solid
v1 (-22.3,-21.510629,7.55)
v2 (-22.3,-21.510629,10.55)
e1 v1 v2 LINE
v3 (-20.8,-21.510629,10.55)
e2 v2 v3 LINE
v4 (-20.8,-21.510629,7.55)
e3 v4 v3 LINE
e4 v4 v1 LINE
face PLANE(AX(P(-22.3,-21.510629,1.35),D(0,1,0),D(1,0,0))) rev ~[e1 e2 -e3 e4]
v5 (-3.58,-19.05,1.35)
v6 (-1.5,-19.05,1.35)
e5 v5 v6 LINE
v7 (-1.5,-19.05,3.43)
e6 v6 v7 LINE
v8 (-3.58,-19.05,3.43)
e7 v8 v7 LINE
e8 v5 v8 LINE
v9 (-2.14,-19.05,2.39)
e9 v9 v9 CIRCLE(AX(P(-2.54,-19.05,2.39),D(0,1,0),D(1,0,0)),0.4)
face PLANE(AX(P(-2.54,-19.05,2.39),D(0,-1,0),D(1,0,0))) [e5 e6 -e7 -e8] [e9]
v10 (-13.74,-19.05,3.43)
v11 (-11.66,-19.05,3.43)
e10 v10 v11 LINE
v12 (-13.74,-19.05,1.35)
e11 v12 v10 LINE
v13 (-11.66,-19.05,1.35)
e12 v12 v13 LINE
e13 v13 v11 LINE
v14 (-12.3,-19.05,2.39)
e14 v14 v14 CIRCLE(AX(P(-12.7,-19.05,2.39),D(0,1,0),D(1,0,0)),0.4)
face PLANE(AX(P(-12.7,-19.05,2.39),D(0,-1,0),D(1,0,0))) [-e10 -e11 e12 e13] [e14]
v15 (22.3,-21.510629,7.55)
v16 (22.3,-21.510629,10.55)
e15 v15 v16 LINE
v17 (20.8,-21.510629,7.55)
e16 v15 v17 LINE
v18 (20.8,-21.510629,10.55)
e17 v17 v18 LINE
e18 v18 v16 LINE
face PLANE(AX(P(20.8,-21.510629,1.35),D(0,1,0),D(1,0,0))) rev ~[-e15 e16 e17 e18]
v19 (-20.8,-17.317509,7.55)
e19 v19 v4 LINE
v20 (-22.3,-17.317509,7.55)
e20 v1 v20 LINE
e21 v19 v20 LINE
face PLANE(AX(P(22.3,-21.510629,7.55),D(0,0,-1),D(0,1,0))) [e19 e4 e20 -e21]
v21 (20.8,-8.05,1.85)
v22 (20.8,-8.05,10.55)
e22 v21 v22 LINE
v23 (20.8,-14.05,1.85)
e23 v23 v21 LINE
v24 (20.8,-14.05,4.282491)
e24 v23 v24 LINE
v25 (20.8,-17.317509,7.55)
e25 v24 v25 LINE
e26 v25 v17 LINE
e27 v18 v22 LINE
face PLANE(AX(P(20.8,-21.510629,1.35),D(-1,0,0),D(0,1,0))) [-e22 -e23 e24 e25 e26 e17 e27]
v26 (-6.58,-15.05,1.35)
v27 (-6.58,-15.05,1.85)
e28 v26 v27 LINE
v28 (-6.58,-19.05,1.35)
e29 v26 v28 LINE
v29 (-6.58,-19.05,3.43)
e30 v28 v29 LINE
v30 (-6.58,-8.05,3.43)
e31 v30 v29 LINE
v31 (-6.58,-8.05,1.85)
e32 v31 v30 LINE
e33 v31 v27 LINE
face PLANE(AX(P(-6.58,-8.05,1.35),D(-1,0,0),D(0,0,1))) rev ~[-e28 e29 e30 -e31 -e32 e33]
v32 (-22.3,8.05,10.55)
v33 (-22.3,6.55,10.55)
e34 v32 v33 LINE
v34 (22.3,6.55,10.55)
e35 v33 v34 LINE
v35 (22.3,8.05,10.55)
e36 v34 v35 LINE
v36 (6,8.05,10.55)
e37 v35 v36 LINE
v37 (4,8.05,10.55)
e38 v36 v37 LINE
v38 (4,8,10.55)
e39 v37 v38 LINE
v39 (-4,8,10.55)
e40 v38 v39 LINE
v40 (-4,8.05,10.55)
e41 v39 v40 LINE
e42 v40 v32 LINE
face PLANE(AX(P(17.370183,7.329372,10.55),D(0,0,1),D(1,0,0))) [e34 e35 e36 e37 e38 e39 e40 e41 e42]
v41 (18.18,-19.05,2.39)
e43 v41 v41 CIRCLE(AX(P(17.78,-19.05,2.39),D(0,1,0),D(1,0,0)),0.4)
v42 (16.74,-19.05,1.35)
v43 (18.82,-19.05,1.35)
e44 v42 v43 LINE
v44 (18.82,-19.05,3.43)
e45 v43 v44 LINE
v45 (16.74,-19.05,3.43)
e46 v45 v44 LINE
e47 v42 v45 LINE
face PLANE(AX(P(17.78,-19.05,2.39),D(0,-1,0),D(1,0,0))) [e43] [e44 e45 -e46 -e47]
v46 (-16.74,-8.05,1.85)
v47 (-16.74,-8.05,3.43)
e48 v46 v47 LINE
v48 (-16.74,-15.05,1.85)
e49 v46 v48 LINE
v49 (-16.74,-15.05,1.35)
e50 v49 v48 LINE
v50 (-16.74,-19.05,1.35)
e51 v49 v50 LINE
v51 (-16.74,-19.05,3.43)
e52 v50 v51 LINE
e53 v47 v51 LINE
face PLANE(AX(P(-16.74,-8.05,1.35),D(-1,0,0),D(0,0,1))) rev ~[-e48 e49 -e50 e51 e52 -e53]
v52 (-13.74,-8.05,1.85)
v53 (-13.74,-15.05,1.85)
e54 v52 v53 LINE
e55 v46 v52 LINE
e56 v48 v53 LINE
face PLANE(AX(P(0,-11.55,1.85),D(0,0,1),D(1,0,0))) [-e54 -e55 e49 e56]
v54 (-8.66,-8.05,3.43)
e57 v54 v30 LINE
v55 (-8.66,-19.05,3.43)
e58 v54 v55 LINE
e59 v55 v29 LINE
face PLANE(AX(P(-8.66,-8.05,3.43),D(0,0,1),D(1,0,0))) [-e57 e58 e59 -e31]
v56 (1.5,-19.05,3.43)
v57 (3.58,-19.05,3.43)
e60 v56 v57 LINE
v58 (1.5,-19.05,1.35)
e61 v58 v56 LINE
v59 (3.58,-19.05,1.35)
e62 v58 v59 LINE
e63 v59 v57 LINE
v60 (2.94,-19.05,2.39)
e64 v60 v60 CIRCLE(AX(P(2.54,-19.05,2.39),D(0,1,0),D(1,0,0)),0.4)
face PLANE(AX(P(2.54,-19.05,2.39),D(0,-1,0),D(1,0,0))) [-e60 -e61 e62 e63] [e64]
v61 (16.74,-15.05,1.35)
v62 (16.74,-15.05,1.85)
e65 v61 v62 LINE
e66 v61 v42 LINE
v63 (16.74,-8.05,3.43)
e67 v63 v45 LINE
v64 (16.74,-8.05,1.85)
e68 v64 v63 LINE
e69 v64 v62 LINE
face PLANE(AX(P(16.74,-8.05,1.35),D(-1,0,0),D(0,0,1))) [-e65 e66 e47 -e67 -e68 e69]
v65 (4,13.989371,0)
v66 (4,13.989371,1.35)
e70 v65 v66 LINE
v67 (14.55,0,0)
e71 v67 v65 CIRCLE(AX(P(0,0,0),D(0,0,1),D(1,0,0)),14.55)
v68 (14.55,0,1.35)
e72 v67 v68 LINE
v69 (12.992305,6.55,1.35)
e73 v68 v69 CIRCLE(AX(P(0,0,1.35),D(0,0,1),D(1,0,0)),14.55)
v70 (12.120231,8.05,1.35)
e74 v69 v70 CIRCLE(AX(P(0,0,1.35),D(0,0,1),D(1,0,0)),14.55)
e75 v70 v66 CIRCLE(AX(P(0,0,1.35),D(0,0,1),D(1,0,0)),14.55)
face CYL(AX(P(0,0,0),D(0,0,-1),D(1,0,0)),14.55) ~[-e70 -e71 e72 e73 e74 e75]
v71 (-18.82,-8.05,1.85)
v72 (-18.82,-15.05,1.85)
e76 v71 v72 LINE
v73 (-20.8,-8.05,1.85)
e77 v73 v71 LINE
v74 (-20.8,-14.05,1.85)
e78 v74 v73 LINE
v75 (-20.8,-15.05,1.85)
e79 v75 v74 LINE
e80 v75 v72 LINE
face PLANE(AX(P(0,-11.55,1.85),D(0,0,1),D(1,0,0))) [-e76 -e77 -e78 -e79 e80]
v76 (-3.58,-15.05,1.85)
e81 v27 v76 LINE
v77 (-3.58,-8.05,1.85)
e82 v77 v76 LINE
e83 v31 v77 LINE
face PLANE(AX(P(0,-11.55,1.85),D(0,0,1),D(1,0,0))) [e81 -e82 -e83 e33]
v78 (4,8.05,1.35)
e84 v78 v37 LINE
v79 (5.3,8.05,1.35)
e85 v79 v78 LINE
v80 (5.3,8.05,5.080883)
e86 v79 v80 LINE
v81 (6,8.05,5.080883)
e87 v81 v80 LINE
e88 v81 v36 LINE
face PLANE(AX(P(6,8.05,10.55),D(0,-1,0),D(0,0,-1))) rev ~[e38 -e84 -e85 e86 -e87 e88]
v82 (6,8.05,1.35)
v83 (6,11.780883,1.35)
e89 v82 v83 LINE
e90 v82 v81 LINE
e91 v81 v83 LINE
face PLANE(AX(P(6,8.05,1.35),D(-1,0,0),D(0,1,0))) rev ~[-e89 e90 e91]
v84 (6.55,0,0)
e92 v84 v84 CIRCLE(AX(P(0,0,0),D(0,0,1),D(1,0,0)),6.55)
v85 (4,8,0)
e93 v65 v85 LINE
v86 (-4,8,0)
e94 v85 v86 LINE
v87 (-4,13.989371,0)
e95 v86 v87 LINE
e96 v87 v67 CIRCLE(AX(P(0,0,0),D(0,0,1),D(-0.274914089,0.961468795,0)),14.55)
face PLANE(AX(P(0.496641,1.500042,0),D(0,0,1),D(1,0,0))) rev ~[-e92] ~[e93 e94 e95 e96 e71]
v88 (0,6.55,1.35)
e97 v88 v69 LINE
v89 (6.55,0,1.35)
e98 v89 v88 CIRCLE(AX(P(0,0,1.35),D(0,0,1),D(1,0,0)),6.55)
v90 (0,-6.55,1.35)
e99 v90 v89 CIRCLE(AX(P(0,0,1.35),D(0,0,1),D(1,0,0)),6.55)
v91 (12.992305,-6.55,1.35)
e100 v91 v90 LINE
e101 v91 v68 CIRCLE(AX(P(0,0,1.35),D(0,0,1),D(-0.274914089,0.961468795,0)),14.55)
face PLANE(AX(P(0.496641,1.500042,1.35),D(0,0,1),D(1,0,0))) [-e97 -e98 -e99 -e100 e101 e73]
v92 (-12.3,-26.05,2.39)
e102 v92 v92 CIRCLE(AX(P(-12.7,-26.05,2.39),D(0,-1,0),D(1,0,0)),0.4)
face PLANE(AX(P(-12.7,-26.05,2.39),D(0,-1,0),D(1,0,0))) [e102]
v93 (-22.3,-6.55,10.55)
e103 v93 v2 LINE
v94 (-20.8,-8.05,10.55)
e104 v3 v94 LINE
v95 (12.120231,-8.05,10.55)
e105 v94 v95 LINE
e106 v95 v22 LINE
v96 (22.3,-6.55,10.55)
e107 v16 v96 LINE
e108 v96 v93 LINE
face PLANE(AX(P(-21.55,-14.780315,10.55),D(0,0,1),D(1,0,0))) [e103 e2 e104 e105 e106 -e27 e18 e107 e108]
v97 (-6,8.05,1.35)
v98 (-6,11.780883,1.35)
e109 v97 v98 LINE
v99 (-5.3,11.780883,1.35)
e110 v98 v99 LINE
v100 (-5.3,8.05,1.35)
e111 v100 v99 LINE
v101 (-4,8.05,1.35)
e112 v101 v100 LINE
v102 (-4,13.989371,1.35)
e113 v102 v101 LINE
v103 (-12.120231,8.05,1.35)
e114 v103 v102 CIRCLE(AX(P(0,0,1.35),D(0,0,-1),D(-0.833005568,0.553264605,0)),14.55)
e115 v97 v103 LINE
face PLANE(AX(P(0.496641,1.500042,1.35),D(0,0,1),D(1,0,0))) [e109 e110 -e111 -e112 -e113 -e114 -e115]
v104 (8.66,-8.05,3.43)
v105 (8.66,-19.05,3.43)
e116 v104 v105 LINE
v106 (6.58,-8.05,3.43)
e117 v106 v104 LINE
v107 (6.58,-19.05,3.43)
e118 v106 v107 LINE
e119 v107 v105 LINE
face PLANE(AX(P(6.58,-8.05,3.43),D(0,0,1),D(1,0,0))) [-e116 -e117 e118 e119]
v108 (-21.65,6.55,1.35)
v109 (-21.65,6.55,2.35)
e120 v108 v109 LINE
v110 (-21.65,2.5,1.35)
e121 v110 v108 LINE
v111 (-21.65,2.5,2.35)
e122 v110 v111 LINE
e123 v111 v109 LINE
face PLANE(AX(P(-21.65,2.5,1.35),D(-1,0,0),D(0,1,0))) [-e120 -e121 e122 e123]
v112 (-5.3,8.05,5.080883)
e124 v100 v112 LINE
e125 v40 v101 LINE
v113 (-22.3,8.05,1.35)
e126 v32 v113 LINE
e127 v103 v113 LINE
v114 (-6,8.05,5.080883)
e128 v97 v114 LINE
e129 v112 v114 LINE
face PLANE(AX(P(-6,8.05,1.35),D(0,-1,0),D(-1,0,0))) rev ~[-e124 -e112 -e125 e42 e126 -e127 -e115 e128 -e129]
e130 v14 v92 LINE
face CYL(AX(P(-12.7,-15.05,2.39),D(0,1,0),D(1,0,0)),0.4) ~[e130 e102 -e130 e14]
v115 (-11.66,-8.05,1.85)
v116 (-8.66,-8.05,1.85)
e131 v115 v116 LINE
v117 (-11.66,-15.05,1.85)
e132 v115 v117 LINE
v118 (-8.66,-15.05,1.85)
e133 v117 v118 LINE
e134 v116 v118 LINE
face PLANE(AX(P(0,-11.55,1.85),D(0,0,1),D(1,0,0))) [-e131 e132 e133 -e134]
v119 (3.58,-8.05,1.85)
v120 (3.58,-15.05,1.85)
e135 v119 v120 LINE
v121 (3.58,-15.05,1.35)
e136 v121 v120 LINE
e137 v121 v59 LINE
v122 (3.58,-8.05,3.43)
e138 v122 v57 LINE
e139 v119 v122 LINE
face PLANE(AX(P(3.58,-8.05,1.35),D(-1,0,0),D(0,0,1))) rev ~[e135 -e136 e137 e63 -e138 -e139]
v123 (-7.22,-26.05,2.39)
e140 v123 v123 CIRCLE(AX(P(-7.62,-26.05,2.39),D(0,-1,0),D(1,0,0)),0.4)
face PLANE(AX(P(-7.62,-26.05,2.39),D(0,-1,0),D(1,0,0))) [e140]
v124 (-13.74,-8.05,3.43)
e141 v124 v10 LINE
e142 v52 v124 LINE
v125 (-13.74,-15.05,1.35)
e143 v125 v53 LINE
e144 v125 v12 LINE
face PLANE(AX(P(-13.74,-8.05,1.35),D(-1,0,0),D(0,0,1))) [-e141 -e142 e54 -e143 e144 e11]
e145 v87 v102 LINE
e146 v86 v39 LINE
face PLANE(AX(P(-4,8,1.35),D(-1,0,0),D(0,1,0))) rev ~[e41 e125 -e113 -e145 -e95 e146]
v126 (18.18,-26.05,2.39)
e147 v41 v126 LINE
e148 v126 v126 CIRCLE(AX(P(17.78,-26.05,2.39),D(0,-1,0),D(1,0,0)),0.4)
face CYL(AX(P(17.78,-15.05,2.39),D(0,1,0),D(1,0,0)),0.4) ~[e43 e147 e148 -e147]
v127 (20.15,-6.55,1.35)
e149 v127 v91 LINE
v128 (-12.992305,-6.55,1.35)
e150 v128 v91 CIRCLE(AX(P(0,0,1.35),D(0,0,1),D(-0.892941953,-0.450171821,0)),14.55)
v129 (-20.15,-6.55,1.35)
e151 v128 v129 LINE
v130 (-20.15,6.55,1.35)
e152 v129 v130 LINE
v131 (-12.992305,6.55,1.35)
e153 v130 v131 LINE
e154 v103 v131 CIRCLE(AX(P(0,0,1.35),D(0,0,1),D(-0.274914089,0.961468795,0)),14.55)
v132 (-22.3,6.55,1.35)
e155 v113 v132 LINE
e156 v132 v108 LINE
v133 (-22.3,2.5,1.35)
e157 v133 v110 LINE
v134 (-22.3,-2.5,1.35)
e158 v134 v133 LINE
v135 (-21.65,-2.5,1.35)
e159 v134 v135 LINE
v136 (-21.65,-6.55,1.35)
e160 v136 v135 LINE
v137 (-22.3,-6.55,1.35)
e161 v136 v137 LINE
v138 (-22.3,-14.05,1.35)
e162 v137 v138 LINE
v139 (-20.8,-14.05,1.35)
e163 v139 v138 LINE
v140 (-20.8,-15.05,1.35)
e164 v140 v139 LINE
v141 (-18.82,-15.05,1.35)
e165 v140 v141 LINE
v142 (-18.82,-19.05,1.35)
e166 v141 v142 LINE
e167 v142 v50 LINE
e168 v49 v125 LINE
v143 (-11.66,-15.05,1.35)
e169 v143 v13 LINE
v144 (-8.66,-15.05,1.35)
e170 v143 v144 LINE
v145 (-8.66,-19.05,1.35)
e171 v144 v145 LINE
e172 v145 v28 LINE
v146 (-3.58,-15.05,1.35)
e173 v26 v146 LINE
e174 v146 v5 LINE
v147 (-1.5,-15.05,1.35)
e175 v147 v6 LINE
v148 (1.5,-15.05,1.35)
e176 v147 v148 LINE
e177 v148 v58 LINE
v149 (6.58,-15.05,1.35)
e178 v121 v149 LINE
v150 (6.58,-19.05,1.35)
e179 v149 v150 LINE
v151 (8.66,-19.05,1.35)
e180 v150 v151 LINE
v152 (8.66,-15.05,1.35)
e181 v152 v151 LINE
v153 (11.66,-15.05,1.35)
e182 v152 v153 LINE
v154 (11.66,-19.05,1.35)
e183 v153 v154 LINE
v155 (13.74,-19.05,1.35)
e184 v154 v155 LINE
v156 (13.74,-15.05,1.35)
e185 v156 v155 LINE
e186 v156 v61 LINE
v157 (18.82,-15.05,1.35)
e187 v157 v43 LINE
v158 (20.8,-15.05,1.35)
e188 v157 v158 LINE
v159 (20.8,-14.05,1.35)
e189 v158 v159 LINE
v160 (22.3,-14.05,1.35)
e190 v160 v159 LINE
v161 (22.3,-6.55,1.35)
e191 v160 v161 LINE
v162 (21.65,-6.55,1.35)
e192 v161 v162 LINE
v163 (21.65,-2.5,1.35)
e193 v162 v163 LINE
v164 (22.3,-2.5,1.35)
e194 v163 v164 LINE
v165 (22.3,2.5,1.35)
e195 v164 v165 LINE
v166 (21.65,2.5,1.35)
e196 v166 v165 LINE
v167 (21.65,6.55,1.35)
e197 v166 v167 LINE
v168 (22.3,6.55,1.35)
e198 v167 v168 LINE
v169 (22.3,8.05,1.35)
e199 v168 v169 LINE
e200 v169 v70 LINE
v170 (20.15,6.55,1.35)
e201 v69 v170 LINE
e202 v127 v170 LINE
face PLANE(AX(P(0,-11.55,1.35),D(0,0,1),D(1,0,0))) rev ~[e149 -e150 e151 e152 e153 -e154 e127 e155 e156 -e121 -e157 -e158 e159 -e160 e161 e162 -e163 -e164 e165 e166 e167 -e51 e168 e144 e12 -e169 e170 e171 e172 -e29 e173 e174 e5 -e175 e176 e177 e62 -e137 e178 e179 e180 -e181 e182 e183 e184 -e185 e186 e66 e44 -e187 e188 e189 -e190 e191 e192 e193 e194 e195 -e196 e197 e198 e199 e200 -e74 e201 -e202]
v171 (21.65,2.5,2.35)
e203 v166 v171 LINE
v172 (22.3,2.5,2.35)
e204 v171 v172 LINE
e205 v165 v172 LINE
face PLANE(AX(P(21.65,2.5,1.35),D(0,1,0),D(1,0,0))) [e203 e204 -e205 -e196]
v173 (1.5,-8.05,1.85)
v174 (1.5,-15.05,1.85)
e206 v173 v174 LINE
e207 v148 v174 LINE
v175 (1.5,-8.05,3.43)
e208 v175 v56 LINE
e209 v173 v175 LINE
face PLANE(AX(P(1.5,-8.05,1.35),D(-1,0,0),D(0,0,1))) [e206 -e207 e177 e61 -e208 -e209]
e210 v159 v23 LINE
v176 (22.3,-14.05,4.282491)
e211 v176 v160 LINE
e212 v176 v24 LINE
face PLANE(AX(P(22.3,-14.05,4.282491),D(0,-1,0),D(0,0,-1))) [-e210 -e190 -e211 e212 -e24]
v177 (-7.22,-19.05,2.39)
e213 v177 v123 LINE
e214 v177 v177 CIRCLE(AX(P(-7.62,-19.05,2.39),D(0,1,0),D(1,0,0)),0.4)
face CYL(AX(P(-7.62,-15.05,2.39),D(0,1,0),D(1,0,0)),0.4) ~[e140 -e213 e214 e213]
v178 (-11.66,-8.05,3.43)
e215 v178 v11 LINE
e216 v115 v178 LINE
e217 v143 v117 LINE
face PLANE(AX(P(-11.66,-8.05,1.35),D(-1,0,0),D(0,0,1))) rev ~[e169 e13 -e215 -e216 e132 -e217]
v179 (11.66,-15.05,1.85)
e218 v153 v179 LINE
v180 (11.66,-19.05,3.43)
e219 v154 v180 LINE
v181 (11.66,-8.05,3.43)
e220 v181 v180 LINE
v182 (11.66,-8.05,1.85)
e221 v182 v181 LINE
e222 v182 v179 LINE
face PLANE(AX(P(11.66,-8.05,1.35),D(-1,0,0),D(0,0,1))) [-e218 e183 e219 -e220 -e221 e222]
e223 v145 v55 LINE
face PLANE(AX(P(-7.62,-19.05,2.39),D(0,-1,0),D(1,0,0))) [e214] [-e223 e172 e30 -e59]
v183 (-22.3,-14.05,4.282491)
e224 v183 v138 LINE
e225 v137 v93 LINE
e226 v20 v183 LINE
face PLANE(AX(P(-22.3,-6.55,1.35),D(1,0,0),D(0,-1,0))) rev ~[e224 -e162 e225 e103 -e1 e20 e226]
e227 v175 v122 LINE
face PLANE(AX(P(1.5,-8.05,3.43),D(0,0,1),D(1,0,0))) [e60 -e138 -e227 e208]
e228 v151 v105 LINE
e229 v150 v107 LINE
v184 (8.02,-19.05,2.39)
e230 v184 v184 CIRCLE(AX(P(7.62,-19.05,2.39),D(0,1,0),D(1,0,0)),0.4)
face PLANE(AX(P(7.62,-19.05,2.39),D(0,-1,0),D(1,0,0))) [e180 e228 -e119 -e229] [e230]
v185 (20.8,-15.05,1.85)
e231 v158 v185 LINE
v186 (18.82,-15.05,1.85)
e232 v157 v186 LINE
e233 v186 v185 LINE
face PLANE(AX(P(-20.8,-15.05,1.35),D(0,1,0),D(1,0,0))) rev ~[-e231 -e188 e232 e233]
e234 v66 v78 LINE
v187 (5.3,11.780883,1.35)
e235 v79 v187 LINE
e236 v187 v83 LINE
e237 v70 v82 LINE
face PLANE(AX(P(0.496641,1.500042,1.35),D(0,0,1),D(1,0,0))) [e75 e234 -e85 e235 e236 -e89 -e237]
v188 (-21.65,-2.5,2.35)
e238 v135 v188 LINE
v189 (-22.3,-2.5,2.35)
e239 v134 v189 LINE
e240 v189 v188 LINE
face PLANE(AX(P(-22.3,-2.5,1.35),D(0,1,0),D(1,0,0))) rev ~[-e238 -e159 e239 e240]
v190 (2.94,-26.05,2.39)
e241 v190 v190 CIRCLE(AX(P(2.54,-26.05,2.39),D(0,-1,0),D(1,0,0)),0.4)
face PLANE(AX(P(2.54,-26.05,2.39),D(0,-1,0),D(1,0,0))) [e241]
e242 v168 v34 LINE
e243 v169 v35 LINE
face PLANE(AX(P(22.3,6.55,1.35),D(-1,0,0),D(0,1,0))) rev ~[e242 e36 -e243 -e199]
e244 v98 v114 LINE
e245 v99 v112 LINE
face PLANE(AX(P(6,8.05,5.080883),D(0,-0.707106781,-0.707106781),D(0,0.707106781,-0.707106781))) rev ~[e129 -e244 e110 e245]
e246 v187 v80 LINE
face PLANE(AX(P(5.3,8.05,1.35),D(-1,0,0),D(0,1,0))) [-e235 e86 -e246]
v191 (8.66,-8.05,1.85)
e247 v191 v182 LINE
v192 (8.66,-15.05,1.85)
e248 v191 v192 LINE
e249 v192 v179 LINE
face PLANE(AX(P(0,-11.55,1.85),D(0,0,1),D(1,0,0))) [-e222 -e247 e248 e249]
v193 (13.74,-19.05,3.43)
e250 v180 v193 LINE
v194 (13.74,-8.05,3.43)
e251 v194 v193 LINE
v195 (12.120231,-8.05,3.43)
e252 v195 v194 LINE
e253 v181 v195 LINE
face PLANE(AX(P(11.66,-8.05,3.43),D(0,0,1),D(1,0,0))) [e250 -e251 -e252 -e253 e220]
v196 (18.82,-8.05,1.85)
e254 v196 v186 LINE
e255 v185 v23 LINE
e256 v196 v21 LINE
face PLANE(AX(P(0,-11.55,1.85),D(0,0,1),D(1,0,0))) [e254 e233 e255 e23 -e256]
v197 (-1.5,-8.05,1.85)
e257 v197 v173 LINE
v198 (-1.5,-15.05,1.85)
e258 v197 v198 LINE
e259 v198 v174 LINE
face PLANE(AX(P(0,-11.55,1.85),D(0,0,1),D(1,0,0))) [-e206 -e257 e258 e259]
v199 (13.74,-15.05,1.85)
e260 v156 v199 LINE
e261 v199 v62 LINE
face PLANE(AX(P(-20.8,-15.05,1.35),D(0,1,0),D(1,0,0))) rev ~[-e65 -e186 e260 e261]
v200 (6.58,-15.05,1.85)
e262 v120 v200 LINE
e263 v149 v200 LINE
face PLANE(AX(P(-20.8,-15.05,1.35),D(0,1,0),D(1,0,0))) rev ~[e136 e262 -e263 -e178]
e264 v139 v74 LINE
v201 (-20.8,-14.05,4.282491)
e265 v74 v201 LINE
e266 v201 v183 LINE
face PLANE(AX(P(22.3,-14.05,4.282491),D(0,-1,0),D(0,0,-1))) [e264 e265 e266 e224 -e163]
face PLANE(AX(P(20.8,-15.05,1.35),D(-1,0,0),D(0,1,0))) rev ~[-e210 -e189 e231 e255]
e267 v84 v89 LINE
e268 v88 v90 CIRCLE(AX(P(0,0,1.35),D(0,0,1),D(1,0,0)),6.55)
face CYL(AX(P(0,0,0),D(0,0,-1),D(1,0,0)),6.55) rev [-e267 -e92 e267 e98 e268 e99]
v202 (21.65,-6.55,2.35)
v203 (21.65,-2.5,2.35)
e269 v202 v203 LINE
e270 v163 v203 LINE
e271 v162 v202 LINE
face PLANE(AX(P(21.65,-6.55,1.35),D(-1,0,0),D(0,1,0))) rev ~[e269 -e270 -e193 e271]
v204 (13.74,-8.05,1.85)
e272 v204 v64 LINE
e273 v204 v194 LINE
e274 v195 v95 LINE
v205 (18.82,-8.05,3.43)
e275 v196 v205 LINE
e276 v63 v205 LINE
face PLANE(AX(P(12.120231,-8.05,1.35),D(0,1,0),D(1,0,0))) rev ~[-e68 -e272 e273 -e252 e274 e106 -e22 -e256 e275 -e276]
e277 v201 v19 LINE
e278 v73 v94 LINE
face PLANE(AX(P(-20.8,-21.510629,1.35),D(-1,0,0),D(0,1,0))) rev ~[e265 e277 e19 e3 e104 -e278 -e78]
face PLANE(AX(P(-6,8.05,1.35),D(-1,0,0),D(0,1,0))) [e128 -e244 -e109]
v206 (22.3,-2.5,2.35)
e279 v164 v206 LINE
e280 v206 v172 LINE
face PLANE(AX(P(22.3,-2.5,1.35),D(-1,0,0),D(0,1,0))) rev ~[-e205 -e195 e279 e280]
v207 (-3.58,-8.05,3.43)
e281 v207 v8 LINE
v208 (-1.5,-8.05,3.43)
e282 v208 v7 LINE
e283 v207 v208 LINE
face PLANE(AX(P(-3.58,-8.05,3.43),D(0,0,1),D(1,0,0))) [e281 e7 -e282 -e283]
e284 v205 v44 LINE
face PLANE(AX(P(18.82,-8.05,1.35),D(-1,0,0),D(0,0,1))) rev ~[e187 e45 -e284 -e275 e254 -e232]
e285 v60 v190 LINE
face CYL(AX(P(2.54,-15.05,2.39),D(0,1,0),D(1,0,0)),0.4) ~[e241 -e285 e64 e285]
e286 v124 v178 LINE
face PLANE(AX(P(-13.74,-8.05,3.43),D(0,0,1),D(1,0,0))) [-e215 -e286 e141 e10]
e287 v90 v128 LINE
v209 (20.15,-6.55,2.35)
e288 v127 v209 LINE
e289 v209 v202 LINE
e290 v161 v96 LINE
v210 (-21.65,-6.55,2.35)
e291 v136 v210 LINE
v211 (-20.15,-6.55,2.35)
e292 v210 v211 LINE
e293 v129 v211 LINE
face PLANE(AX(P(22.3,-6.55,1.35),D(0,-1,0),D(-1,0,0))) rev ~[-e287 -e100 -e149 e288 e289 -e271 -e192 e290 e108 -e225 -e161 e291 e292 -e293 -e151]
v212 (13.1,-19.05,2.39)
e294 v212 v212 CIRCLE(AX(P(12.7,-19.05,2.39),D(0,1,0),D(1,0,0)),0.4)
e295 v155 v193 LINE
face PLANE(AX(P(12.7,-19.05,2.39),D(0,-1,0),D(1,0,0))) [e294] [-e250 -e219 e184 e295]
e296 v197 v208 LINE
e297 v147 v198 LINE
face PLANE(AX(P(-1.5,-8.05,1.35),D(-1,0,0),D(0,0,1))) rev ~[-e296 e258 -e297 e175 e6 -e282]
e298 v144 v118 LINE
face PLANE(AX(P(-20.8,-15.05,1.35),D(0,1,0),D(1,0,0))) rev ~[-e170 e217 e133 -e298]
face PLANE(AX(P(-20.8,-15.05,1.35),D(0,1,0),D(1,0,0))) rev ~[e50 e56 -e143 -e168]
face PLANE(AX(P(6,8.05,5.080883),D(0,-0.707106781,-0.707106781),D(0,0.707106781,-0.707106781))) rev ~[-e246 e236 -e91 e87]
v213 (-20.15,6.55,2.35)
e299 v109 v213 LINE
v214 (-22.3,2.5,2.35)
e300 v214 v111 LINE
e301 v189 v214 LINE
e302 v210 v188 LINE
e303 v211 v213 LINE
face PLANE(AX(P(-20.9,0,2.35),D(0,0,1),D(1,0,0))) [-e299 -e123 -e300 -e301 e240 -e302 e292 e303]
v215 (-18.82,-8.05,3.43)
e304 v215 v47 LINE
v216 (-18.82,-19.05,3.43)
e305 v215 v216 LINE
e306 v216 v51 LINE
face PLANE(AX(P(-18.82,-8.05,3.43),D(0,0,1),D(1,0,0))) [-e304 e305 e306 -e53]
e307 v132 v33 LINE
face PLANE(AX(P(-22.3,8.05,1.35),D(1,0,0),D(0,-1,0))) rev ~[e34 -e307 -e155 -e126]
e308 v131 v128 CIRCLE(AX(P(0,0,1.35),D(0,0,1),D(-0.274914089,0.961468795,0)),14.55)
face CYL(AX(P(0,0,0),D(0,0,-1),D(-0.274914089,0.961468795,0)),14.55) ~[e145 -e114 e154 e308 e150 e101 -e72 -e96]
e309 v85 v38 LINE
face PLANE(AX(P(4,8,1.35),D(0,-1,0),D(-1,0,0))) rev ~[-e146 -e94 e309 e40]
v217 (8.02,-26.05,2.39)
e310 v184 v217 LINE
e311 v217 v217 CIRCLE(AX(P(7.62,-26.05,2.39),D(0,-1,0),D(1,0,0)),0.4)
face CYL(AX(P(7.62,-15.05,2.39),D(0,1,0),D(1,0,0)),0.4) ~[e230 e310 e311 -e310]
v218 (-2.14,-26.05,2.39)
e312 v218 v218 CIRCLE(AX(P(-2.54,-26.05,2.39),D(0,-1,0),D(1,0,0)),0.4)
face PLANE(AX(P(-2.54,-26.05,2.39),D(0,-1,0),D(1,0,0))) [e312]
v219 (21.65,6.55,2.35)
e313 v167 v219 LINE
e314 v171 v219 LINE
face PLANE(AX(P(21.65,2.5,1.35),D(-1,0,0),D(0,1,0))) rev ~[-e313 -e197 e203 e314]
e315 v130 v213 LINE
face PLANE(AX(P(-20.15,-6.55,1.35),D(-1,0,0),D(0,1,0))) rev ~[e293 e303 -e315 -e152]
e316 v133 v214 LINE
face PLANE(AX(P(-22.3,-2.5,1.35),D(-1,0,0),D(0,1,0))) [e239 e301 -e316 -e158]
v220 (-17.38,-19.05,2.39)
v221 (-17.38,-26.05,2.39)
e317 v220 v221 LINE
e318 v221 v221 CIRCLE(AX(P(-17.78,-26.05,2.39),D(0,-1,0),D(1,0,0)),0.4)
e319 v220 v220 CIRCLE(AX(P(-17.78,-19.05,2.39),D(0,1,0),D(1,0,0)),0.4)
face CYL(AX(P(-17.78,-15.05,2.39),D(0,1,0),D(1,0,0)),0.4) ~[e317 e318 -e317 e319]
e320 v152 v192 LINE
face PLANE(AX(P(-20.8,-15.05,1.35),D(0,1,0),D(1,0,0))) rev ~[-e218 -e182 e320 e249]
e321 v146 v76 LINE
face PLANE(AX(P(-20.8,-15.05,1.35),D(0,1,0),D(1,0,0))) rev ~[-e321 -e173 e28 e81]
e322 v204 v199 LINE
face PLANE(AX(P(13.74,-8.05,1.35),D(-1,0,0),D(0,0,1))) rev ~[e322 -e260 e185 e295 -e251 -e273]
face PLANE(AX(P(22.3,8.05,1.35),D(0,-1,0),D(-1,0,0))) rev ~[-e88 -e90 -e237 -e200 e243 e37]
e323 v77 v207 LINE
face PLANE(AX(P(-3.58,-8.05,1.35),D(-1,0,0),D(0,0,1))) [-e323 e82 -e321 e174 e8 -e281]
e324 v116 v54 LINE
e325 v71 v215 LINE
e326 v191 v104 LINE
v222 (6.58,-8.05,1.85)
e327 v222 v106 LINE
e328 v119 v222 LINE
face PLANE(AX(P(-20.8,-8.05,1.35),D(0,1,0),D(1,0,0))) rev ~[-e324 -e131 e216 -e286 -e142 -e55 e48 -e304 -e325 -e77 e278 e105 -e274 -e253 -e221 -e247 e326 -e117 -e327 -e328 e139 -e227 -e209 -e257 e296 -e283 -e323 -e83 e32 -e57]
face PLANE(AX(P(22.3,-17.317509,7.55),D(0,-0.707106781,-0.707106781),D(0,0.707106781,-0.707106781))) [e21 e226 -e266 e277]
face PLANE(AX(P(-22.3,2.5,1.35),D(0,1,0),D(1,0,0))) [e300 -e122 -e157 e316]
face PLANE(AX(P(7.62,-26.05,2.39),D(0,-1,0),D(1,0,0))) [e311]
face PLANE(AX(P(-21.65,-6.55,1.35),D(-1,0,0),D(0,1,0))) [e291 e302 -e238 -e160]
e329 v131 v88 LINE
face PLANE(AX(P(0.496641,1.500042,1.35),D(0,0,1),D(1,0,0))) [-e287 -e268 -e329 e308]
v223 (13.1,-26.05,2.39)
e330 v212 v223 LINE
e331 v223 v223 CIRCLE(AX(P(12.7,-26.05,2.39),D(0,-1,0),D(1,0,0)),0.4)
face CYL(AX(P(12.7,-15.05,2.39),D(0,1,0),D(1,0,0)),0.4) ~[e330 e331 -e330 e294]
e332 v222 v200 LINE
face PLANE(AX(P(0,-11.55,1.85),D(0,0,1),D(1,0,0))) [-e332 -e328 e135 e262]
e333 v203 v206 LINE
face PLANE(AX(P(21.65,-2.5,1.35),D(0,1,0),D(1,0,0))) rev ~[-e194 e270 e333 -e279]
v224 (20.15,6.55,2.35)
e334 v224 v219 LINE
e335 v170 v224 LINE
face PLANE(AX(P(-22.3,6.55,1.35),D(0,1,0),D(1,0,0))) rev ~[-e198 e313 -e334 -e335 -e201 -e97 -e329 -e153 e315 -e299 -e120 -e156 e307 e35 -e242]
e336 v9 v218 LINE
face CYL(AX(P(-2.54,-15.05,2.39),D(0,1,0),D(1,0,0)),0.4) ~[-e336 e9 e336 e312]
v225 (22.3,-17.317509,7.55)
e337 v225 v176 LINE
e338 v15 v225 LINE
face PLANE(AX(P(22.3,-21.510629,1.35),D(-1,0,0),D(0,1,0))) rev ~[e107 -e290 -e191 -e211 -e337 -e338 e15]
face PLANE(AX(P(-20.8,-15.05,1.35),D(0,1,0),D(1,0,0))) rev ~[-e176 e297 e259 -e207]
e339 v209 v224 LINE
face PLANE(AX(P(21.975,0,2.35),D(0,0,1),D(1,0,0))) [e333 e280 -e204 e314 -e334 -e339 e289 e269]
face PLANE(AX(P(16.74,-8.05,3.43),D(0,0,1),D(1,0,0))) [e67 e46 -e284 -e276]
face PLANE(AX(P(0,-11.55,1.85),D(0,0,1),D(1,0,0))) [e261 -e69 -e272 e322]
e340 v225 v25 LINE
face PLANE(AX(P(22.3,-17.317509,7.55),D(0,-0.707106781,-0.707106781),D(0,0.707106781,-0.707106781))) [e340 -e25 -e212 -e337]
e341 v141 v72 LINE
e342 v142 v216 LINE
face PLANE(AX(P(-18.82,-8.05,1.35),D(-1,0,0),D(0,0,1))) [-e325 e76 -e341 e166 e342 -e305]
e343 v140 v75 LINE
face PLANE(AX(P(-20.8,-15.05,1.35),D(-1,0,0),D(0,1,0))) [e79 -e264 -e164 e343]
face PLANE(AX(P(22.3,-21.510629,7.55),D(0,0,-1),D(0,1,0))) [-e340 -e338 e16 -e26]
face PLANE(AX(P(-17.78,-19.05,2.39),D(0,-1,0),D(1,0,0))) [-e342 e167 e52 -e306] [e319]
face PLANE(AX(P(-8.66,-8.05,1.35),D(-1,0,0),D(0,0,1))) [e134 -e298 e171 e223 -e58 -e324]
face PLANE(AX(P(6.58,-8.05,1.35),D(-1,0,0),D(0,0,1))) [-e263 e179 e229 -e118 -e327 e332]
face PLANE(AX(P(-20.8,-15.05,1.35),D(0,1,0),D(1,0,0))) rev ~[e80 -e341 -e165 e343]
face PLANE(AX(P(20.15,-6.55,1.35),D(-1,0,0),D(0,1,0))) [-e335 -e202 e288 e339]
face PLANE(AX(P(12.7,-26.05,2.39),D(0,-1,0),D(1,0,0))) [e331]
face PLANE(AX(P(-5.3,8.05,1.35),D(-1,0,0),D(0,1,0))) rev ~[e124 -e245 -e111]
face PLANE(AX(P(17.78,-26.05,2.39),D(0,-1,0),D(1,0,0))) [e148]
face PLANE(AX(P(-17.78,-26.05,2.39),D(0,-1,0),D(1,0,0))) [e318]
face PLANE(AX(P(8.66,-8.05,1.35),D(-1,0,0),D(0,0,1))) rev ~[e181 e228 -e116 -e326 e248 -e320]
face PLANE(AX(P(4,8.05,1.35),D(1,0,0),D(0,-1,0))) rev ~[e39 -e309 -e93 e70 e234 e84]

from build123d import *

# Parameters (mm, degrees)
SKETCH1_R           = 6.55
BOSS_EXTRUDE1_DEPTH = 1.35
SKETCH2_W           = 0.7
SKETCH2_H           = 3.730882663
SKETCH2_W_2         = 1.5
SKETCH2_H_2         = 13.460629035
BOSS_EXTRUDE2_DEPTH = 9.2
SKETCH3_W           = 1.5
SKETCH3_H           = 13.1
SKETCH3_W_2         = 0.65
SKETCH3_H_2         = 5
BOSS_EXTRUDE3_DEPTH = 1
CUT_EXTRUDE1_DEPTH  = 29.3
CUT_EXTRUDE2_DEPTH  = 45.6
SKETCH7_W           = 41.6
SKETCH7_H           = 7
BOSS_EXTRUDE4_DEPTH = 0.5
SKETCH8_R           = 0.4
PINS_DEPTH          = 11
PINS_2_DEPTH        = 11
PINS_3_DEPTH        = 11
PINS_4_DEPTH        = 11
PINS_5_DEPTH        = 11
PINS_6_DEPTH        = 11
PINS_7_DEPTH        = 11
PINS_8_DEPTH        = 11
SKETCH9_W           = 2.08
SKETCH9_H           = 2.08
BOSS_EXTRUDE6_DEPTH = 11


with BuildPart() as part:
    # Sketch1 → Boss-Extrude1 (new body)
    with BuildSketch(Plane.XY):
        with BuildLine():
            Line((0, 8), (-4, 8))
            Line((-4, 8), (-4, 13.989370965))
            ThreePointArc((-4, 13.989370965), (-8.760779075, -11.616851983), (14.55, 0))
            ThreePointArc((14.55, 0), (11.616851983, 8.760779075), (4, 13.989370965))
            Line((4, 13.989370965), (4, 8))
            Line((4, 8), (0, 8))
        make_face()
        Circle(SKETCH1_R, mode=Mode.SUBTRACT)
    extrude(amount=BOSS_EXTRUDE1_DEPTH)

    # Sketch2 → Boss-Extrude2 (add)
    with BuildSketch(Plane.XY.offset(1.35)):
        with BuildLine():
            ThreePointArc((12.120231021, 8.05), (12.578647446, 7.313010901), (12.992305415, 6.55))
            Line((12.992305415, 6.55), (22.3, 6.55))
            Line((22.3, 6.55), (22.3, 8.05))
            Line((22.3, 8.05), (12.120231021, 8.05))
        make_face()
        with Locations((5.65, 9.915441332)):
            Rectangle(SKETCH2_W, SKETCH2_H)
        with BuildLine():
            Line((-5.3, 8.05), (-6, 8.05))
            Line((-6, 8.05), (-12.120231021, 8.05))
            ThreePointArc((-12.120231021, 8.05), (-12.578647446, 7.313010901), (-12.992305415, 6.55))
            Line((-12.992305415, 6.55), (12.992305415, 6.55))
            ThreePointArc((12.992305415, 6.55), (12.578647446, 7.313010901), (12.120231021, 8.05))
            Line((12.120231021, 8.05), (6, 8.05))
            Line((6, 8.05), (5.3, 8.05))
            Line((5.3, 8.05), (4, 8.05))
            Line((4, 8.05), (4, 8))
            Line((4, 8), (-4, 8))
            Line((-4, 8), (-4, 8.05))
            Line((-4, 8.05), (-5.3, 8.05))
        make_face()
        with BuildLine():
            ThreePointArc((-12.992305415, 6.55), (-12.578647446, 7.313010901), (-12.120231021, 8.05))
            Line((-12.120231021, 8.05), (-22.3, 8.05))
            Line((-22.3, 8.05), (-22.3, 6.55))
            Line((-22.3, 6.55), (-12.992305415, 6.55))
        make_face()
        with Locations((-21.55, -14.780314518)):
            Rectangle(SKETCH2_W_2, SKETCH2_H_2)
        with BuildLine():
            ThreePointArc((-12.120231021, -8.05), (-12.578647446, -7.313010901), (-12.992305415, -6.55))
            Line((-12.992305415, -6.55), (-22.3, -6.55))
            Line((-22.3, -6.55), (-22.3, -8.05))
            Line((-22.3, -8.05), (-20.8, -8.05))
            Line((-20.8, -8.05), (-12.120231021, -8.05))
        make_face()
        with BuildLine():
            Line((12.992305415, -6.55), (-12.992305415, -6.55))
            ThreePointArc((-12.992305415, -6.55), (-12.578647446, -7.313010901), (-12.120231021, -8.05))
            Line((-12.120231021, -8.05), (12.120231021, -8.05))
            ThreePointArc((12.120231021, -8.05), (12.578647446, -7.313010901), (12.992305415, -6.55))
        make_face()
        with BuildLine():
            Line((22.3, -6.55), (12.992305415, -6.55))
            ThreePointArc((12.992305415, -6.55), (12.578647446, -7.313010901), (12.120231021, -8.05))
            Line((12.120231021, -8.05), (20.8, -8.05))
            Line((20.8, -8.05), (22.3, -8.05))
            Line((22.3, -8.05), (22.3, -6.55))
        make_face()
        with Locations((21.55, -14.780314518)):
            Rectangle(SKETCH2_W_2, SKETCH2_H_2)
        with Locations((-5.65, 9.915441332)):
            Rectangle(SKETCH2_W, SKETCH2_H)
    extrude(amount=BOSS_EXTRUDE2_DEPTH)

    # Sketch3 → Boss-Extrude3 (add)
    with BuildSketch(Plane.XY.offset(1.35)):
        with Locations((-20.9, 0)):
            Rectangle(SKETCH3_W, SKETCH3_H)
        with Locations((-21.975, 0)):
            Rectangle(SKETCH3_W_2, SKETCH3_H_2)
        with Locations((21.975, 0)):
            Rectangle(SKETCH3_W_2, SKETCH3_H_2)
        with Locations((20.9, 0)):
            Rectangle(SKETCH3_W, SKETCH3_H)
    extrude(amount=BOSS_EXTRUDE3_DEPTH)

    # Sketch5 → Cut-Extrude1 (cut, through all)
    with BuildSketch(Plane(origin=(6, 0, 0), x_dir=(0, 0, -1), z_dir=(1, 0, 0))):
        Polygon((-10.55, 8.05), (-5.080882663, 8.05), (-1.35, 11.780882663), (-10.55, 11.780882663), align=None)
    extrude(amount=-CUT_EXTRUDE1_DEPTH, mode=Mode.SUBTRACT)

    # Sketch6 → Cut-Extrude2 (cut, through all)
    with BuildSketch(Plane(origin=(22.3, 0, 0), x_dir=(0, 0, -1), z_dir=(1, 0, 0))):
        Polygon((-7.55, -21.510629035), (-7.55, -17.317508604), (-4.282491396, -14.05), (-1.35, -14.05), (-1.35, -21.510629035), align=None)
    extrude(amount=-CUT_EXTRUDE2_DEPTH, mode=Mode.SUBTRACT)

    # Sketch7 → Boss-Extrude4 (add)
    with BuildSketch(Plane.XY.offset(1.35)):
        with Locations((0, -11.55)):
            Rectangle(SKETCH7_W, SKETCH7_H)
    extrude(amount=BOSS_EXTRUDE4_DEPTH)



with BuildPart() as body_2:
    # Sketch8 → Pins (new body)
    with BuildSketch(Plane.XZ.offset(15.05)):
        with Locations((-17.78, 2.39)):
            Circle(SKETCH8_R)
    extrude(amount=PINS_DEPTH)


with BuildPart() as body_3:
    # Sketch8 → Pins 2 (new body)
    with BuildSketch(Plane.XZ.offset(15.05)):
        with Locations((-12.7, 2.39)):
            Circle(SKETCH8_R)
    extrude(amount=PINS_2_DEPTH)


with BuildPart() as body_4:
    # Sketch8 → Pins 3 (new body)
    with BuildSketch(Plane.XZ.offset(15.05)):
        with Locations((-7.62, 2.39)):
            Circle(SKETCH8_R)
    extrude(amount=PINS_3_DEPTH)


with BuildPart() as body_5:
    # Sketch8 → Pins 4 (new body)
    with BuildSketch(Plane.XZ.offset(15.05)):
        with Locations((-2.54, 2.39)):
            Circle(SKETCH8_R)
    extrude(amount=PINS_4_DEPTH)


with BuildPart() as body_6:
    # Sketch8 → Pins 5 (new body)
    with BuildSketch(Plane.XZ.offset(15.05)):
        with Locations((2.54, 2.39)):
            Circle(SKETCH8_R)
    extrude(amount=PINS_5_DEPTH)


with BuildPart() as body_7:
    # Sketch8 → Pins 6 (new body)
    with BuildSketch(Plane.XZ.offset(15.05)):
        with Locations((7.62, 2.39)):
            Circle(SKETCH8_R)
    extrude(amount=PINS_6_DEPTH)


with BuildPart() as body_8:
    # Sketch8 → Pins 7 (new body)
    with BuildSketch(Plane.XZ.offset(15.05)):
        with Locations((12.7, 2.39)):
            Circle(SKETCH8_R)
    extrude(amount=PINS_7_DEPTH)


with BuildPart() as body_9:
    # Sketch8 → Pins 8 (new body)
    with BuildSketch(Plane.XZ.offset(15.05)):
        with Locations((17.78, 2.39)):
            Circle(SKETCH8_R)
    extrude(amount=PINS_8_DEPTH)


with BuildPart() as part_1:
    add(part.part)

    add(body_2.part)  # Boss-Extrude6 merges body 2

    add(body_3.part)  # Boss-Extrude6 merges body 3

    add(body_4.part)  # Boss-Extrude6 merges body 4

    add(body_5.part)  # Boss-Extrude6 merges body 5

    add(body_6.part)  # Boss-Extrude6 merges body 6

    add(body_7.part)  # Boss-Extrude6 merges body 7

    add(body_8.part)  # Boss-Extrude6 merges body 8

    add(body_9.part)  # Boss-Extrude6 merges body 9
    # Sketch9 → Boss-Extrude6 (add)
    with BuildSketch(Plane.XZ.offset(8.05)):
        with Locations((-12.7, 2.39)):
            Rectangle(SKETCH9_W, SKETCH9_H)
        with Locations((-17.78, 2.39)):
            Rectangle(SKETCH9_W, SKETCH9_H)
        with Locations((-7.62, 2.39)):
            Rectangle(SKETCH9_W, SKETCH9_H)
        with Locations((-2.54, 2.39)):
            Rectangle(SKETCH9_W, SKETCH9_H)
        with Locations((2.54, 2.39)):
            Rectangle(SKETCH9_W, SKETCH9_H)
        with Locations((7.62, 2.39)):
            Rectangle(SKETCH9_W, SKETCH9_H)
        with Locations((12.7, 2.39)):
            Rectangle(SKETCH9_W, SKETCH9_H)
        with Locations((17.78, 2.39)):
            Rectangle(SKETCH9_W, SKETCH9_H)
    extrude(amount=BOSS_EXTRUDE6_DEPTH)


solid = part_1.part
